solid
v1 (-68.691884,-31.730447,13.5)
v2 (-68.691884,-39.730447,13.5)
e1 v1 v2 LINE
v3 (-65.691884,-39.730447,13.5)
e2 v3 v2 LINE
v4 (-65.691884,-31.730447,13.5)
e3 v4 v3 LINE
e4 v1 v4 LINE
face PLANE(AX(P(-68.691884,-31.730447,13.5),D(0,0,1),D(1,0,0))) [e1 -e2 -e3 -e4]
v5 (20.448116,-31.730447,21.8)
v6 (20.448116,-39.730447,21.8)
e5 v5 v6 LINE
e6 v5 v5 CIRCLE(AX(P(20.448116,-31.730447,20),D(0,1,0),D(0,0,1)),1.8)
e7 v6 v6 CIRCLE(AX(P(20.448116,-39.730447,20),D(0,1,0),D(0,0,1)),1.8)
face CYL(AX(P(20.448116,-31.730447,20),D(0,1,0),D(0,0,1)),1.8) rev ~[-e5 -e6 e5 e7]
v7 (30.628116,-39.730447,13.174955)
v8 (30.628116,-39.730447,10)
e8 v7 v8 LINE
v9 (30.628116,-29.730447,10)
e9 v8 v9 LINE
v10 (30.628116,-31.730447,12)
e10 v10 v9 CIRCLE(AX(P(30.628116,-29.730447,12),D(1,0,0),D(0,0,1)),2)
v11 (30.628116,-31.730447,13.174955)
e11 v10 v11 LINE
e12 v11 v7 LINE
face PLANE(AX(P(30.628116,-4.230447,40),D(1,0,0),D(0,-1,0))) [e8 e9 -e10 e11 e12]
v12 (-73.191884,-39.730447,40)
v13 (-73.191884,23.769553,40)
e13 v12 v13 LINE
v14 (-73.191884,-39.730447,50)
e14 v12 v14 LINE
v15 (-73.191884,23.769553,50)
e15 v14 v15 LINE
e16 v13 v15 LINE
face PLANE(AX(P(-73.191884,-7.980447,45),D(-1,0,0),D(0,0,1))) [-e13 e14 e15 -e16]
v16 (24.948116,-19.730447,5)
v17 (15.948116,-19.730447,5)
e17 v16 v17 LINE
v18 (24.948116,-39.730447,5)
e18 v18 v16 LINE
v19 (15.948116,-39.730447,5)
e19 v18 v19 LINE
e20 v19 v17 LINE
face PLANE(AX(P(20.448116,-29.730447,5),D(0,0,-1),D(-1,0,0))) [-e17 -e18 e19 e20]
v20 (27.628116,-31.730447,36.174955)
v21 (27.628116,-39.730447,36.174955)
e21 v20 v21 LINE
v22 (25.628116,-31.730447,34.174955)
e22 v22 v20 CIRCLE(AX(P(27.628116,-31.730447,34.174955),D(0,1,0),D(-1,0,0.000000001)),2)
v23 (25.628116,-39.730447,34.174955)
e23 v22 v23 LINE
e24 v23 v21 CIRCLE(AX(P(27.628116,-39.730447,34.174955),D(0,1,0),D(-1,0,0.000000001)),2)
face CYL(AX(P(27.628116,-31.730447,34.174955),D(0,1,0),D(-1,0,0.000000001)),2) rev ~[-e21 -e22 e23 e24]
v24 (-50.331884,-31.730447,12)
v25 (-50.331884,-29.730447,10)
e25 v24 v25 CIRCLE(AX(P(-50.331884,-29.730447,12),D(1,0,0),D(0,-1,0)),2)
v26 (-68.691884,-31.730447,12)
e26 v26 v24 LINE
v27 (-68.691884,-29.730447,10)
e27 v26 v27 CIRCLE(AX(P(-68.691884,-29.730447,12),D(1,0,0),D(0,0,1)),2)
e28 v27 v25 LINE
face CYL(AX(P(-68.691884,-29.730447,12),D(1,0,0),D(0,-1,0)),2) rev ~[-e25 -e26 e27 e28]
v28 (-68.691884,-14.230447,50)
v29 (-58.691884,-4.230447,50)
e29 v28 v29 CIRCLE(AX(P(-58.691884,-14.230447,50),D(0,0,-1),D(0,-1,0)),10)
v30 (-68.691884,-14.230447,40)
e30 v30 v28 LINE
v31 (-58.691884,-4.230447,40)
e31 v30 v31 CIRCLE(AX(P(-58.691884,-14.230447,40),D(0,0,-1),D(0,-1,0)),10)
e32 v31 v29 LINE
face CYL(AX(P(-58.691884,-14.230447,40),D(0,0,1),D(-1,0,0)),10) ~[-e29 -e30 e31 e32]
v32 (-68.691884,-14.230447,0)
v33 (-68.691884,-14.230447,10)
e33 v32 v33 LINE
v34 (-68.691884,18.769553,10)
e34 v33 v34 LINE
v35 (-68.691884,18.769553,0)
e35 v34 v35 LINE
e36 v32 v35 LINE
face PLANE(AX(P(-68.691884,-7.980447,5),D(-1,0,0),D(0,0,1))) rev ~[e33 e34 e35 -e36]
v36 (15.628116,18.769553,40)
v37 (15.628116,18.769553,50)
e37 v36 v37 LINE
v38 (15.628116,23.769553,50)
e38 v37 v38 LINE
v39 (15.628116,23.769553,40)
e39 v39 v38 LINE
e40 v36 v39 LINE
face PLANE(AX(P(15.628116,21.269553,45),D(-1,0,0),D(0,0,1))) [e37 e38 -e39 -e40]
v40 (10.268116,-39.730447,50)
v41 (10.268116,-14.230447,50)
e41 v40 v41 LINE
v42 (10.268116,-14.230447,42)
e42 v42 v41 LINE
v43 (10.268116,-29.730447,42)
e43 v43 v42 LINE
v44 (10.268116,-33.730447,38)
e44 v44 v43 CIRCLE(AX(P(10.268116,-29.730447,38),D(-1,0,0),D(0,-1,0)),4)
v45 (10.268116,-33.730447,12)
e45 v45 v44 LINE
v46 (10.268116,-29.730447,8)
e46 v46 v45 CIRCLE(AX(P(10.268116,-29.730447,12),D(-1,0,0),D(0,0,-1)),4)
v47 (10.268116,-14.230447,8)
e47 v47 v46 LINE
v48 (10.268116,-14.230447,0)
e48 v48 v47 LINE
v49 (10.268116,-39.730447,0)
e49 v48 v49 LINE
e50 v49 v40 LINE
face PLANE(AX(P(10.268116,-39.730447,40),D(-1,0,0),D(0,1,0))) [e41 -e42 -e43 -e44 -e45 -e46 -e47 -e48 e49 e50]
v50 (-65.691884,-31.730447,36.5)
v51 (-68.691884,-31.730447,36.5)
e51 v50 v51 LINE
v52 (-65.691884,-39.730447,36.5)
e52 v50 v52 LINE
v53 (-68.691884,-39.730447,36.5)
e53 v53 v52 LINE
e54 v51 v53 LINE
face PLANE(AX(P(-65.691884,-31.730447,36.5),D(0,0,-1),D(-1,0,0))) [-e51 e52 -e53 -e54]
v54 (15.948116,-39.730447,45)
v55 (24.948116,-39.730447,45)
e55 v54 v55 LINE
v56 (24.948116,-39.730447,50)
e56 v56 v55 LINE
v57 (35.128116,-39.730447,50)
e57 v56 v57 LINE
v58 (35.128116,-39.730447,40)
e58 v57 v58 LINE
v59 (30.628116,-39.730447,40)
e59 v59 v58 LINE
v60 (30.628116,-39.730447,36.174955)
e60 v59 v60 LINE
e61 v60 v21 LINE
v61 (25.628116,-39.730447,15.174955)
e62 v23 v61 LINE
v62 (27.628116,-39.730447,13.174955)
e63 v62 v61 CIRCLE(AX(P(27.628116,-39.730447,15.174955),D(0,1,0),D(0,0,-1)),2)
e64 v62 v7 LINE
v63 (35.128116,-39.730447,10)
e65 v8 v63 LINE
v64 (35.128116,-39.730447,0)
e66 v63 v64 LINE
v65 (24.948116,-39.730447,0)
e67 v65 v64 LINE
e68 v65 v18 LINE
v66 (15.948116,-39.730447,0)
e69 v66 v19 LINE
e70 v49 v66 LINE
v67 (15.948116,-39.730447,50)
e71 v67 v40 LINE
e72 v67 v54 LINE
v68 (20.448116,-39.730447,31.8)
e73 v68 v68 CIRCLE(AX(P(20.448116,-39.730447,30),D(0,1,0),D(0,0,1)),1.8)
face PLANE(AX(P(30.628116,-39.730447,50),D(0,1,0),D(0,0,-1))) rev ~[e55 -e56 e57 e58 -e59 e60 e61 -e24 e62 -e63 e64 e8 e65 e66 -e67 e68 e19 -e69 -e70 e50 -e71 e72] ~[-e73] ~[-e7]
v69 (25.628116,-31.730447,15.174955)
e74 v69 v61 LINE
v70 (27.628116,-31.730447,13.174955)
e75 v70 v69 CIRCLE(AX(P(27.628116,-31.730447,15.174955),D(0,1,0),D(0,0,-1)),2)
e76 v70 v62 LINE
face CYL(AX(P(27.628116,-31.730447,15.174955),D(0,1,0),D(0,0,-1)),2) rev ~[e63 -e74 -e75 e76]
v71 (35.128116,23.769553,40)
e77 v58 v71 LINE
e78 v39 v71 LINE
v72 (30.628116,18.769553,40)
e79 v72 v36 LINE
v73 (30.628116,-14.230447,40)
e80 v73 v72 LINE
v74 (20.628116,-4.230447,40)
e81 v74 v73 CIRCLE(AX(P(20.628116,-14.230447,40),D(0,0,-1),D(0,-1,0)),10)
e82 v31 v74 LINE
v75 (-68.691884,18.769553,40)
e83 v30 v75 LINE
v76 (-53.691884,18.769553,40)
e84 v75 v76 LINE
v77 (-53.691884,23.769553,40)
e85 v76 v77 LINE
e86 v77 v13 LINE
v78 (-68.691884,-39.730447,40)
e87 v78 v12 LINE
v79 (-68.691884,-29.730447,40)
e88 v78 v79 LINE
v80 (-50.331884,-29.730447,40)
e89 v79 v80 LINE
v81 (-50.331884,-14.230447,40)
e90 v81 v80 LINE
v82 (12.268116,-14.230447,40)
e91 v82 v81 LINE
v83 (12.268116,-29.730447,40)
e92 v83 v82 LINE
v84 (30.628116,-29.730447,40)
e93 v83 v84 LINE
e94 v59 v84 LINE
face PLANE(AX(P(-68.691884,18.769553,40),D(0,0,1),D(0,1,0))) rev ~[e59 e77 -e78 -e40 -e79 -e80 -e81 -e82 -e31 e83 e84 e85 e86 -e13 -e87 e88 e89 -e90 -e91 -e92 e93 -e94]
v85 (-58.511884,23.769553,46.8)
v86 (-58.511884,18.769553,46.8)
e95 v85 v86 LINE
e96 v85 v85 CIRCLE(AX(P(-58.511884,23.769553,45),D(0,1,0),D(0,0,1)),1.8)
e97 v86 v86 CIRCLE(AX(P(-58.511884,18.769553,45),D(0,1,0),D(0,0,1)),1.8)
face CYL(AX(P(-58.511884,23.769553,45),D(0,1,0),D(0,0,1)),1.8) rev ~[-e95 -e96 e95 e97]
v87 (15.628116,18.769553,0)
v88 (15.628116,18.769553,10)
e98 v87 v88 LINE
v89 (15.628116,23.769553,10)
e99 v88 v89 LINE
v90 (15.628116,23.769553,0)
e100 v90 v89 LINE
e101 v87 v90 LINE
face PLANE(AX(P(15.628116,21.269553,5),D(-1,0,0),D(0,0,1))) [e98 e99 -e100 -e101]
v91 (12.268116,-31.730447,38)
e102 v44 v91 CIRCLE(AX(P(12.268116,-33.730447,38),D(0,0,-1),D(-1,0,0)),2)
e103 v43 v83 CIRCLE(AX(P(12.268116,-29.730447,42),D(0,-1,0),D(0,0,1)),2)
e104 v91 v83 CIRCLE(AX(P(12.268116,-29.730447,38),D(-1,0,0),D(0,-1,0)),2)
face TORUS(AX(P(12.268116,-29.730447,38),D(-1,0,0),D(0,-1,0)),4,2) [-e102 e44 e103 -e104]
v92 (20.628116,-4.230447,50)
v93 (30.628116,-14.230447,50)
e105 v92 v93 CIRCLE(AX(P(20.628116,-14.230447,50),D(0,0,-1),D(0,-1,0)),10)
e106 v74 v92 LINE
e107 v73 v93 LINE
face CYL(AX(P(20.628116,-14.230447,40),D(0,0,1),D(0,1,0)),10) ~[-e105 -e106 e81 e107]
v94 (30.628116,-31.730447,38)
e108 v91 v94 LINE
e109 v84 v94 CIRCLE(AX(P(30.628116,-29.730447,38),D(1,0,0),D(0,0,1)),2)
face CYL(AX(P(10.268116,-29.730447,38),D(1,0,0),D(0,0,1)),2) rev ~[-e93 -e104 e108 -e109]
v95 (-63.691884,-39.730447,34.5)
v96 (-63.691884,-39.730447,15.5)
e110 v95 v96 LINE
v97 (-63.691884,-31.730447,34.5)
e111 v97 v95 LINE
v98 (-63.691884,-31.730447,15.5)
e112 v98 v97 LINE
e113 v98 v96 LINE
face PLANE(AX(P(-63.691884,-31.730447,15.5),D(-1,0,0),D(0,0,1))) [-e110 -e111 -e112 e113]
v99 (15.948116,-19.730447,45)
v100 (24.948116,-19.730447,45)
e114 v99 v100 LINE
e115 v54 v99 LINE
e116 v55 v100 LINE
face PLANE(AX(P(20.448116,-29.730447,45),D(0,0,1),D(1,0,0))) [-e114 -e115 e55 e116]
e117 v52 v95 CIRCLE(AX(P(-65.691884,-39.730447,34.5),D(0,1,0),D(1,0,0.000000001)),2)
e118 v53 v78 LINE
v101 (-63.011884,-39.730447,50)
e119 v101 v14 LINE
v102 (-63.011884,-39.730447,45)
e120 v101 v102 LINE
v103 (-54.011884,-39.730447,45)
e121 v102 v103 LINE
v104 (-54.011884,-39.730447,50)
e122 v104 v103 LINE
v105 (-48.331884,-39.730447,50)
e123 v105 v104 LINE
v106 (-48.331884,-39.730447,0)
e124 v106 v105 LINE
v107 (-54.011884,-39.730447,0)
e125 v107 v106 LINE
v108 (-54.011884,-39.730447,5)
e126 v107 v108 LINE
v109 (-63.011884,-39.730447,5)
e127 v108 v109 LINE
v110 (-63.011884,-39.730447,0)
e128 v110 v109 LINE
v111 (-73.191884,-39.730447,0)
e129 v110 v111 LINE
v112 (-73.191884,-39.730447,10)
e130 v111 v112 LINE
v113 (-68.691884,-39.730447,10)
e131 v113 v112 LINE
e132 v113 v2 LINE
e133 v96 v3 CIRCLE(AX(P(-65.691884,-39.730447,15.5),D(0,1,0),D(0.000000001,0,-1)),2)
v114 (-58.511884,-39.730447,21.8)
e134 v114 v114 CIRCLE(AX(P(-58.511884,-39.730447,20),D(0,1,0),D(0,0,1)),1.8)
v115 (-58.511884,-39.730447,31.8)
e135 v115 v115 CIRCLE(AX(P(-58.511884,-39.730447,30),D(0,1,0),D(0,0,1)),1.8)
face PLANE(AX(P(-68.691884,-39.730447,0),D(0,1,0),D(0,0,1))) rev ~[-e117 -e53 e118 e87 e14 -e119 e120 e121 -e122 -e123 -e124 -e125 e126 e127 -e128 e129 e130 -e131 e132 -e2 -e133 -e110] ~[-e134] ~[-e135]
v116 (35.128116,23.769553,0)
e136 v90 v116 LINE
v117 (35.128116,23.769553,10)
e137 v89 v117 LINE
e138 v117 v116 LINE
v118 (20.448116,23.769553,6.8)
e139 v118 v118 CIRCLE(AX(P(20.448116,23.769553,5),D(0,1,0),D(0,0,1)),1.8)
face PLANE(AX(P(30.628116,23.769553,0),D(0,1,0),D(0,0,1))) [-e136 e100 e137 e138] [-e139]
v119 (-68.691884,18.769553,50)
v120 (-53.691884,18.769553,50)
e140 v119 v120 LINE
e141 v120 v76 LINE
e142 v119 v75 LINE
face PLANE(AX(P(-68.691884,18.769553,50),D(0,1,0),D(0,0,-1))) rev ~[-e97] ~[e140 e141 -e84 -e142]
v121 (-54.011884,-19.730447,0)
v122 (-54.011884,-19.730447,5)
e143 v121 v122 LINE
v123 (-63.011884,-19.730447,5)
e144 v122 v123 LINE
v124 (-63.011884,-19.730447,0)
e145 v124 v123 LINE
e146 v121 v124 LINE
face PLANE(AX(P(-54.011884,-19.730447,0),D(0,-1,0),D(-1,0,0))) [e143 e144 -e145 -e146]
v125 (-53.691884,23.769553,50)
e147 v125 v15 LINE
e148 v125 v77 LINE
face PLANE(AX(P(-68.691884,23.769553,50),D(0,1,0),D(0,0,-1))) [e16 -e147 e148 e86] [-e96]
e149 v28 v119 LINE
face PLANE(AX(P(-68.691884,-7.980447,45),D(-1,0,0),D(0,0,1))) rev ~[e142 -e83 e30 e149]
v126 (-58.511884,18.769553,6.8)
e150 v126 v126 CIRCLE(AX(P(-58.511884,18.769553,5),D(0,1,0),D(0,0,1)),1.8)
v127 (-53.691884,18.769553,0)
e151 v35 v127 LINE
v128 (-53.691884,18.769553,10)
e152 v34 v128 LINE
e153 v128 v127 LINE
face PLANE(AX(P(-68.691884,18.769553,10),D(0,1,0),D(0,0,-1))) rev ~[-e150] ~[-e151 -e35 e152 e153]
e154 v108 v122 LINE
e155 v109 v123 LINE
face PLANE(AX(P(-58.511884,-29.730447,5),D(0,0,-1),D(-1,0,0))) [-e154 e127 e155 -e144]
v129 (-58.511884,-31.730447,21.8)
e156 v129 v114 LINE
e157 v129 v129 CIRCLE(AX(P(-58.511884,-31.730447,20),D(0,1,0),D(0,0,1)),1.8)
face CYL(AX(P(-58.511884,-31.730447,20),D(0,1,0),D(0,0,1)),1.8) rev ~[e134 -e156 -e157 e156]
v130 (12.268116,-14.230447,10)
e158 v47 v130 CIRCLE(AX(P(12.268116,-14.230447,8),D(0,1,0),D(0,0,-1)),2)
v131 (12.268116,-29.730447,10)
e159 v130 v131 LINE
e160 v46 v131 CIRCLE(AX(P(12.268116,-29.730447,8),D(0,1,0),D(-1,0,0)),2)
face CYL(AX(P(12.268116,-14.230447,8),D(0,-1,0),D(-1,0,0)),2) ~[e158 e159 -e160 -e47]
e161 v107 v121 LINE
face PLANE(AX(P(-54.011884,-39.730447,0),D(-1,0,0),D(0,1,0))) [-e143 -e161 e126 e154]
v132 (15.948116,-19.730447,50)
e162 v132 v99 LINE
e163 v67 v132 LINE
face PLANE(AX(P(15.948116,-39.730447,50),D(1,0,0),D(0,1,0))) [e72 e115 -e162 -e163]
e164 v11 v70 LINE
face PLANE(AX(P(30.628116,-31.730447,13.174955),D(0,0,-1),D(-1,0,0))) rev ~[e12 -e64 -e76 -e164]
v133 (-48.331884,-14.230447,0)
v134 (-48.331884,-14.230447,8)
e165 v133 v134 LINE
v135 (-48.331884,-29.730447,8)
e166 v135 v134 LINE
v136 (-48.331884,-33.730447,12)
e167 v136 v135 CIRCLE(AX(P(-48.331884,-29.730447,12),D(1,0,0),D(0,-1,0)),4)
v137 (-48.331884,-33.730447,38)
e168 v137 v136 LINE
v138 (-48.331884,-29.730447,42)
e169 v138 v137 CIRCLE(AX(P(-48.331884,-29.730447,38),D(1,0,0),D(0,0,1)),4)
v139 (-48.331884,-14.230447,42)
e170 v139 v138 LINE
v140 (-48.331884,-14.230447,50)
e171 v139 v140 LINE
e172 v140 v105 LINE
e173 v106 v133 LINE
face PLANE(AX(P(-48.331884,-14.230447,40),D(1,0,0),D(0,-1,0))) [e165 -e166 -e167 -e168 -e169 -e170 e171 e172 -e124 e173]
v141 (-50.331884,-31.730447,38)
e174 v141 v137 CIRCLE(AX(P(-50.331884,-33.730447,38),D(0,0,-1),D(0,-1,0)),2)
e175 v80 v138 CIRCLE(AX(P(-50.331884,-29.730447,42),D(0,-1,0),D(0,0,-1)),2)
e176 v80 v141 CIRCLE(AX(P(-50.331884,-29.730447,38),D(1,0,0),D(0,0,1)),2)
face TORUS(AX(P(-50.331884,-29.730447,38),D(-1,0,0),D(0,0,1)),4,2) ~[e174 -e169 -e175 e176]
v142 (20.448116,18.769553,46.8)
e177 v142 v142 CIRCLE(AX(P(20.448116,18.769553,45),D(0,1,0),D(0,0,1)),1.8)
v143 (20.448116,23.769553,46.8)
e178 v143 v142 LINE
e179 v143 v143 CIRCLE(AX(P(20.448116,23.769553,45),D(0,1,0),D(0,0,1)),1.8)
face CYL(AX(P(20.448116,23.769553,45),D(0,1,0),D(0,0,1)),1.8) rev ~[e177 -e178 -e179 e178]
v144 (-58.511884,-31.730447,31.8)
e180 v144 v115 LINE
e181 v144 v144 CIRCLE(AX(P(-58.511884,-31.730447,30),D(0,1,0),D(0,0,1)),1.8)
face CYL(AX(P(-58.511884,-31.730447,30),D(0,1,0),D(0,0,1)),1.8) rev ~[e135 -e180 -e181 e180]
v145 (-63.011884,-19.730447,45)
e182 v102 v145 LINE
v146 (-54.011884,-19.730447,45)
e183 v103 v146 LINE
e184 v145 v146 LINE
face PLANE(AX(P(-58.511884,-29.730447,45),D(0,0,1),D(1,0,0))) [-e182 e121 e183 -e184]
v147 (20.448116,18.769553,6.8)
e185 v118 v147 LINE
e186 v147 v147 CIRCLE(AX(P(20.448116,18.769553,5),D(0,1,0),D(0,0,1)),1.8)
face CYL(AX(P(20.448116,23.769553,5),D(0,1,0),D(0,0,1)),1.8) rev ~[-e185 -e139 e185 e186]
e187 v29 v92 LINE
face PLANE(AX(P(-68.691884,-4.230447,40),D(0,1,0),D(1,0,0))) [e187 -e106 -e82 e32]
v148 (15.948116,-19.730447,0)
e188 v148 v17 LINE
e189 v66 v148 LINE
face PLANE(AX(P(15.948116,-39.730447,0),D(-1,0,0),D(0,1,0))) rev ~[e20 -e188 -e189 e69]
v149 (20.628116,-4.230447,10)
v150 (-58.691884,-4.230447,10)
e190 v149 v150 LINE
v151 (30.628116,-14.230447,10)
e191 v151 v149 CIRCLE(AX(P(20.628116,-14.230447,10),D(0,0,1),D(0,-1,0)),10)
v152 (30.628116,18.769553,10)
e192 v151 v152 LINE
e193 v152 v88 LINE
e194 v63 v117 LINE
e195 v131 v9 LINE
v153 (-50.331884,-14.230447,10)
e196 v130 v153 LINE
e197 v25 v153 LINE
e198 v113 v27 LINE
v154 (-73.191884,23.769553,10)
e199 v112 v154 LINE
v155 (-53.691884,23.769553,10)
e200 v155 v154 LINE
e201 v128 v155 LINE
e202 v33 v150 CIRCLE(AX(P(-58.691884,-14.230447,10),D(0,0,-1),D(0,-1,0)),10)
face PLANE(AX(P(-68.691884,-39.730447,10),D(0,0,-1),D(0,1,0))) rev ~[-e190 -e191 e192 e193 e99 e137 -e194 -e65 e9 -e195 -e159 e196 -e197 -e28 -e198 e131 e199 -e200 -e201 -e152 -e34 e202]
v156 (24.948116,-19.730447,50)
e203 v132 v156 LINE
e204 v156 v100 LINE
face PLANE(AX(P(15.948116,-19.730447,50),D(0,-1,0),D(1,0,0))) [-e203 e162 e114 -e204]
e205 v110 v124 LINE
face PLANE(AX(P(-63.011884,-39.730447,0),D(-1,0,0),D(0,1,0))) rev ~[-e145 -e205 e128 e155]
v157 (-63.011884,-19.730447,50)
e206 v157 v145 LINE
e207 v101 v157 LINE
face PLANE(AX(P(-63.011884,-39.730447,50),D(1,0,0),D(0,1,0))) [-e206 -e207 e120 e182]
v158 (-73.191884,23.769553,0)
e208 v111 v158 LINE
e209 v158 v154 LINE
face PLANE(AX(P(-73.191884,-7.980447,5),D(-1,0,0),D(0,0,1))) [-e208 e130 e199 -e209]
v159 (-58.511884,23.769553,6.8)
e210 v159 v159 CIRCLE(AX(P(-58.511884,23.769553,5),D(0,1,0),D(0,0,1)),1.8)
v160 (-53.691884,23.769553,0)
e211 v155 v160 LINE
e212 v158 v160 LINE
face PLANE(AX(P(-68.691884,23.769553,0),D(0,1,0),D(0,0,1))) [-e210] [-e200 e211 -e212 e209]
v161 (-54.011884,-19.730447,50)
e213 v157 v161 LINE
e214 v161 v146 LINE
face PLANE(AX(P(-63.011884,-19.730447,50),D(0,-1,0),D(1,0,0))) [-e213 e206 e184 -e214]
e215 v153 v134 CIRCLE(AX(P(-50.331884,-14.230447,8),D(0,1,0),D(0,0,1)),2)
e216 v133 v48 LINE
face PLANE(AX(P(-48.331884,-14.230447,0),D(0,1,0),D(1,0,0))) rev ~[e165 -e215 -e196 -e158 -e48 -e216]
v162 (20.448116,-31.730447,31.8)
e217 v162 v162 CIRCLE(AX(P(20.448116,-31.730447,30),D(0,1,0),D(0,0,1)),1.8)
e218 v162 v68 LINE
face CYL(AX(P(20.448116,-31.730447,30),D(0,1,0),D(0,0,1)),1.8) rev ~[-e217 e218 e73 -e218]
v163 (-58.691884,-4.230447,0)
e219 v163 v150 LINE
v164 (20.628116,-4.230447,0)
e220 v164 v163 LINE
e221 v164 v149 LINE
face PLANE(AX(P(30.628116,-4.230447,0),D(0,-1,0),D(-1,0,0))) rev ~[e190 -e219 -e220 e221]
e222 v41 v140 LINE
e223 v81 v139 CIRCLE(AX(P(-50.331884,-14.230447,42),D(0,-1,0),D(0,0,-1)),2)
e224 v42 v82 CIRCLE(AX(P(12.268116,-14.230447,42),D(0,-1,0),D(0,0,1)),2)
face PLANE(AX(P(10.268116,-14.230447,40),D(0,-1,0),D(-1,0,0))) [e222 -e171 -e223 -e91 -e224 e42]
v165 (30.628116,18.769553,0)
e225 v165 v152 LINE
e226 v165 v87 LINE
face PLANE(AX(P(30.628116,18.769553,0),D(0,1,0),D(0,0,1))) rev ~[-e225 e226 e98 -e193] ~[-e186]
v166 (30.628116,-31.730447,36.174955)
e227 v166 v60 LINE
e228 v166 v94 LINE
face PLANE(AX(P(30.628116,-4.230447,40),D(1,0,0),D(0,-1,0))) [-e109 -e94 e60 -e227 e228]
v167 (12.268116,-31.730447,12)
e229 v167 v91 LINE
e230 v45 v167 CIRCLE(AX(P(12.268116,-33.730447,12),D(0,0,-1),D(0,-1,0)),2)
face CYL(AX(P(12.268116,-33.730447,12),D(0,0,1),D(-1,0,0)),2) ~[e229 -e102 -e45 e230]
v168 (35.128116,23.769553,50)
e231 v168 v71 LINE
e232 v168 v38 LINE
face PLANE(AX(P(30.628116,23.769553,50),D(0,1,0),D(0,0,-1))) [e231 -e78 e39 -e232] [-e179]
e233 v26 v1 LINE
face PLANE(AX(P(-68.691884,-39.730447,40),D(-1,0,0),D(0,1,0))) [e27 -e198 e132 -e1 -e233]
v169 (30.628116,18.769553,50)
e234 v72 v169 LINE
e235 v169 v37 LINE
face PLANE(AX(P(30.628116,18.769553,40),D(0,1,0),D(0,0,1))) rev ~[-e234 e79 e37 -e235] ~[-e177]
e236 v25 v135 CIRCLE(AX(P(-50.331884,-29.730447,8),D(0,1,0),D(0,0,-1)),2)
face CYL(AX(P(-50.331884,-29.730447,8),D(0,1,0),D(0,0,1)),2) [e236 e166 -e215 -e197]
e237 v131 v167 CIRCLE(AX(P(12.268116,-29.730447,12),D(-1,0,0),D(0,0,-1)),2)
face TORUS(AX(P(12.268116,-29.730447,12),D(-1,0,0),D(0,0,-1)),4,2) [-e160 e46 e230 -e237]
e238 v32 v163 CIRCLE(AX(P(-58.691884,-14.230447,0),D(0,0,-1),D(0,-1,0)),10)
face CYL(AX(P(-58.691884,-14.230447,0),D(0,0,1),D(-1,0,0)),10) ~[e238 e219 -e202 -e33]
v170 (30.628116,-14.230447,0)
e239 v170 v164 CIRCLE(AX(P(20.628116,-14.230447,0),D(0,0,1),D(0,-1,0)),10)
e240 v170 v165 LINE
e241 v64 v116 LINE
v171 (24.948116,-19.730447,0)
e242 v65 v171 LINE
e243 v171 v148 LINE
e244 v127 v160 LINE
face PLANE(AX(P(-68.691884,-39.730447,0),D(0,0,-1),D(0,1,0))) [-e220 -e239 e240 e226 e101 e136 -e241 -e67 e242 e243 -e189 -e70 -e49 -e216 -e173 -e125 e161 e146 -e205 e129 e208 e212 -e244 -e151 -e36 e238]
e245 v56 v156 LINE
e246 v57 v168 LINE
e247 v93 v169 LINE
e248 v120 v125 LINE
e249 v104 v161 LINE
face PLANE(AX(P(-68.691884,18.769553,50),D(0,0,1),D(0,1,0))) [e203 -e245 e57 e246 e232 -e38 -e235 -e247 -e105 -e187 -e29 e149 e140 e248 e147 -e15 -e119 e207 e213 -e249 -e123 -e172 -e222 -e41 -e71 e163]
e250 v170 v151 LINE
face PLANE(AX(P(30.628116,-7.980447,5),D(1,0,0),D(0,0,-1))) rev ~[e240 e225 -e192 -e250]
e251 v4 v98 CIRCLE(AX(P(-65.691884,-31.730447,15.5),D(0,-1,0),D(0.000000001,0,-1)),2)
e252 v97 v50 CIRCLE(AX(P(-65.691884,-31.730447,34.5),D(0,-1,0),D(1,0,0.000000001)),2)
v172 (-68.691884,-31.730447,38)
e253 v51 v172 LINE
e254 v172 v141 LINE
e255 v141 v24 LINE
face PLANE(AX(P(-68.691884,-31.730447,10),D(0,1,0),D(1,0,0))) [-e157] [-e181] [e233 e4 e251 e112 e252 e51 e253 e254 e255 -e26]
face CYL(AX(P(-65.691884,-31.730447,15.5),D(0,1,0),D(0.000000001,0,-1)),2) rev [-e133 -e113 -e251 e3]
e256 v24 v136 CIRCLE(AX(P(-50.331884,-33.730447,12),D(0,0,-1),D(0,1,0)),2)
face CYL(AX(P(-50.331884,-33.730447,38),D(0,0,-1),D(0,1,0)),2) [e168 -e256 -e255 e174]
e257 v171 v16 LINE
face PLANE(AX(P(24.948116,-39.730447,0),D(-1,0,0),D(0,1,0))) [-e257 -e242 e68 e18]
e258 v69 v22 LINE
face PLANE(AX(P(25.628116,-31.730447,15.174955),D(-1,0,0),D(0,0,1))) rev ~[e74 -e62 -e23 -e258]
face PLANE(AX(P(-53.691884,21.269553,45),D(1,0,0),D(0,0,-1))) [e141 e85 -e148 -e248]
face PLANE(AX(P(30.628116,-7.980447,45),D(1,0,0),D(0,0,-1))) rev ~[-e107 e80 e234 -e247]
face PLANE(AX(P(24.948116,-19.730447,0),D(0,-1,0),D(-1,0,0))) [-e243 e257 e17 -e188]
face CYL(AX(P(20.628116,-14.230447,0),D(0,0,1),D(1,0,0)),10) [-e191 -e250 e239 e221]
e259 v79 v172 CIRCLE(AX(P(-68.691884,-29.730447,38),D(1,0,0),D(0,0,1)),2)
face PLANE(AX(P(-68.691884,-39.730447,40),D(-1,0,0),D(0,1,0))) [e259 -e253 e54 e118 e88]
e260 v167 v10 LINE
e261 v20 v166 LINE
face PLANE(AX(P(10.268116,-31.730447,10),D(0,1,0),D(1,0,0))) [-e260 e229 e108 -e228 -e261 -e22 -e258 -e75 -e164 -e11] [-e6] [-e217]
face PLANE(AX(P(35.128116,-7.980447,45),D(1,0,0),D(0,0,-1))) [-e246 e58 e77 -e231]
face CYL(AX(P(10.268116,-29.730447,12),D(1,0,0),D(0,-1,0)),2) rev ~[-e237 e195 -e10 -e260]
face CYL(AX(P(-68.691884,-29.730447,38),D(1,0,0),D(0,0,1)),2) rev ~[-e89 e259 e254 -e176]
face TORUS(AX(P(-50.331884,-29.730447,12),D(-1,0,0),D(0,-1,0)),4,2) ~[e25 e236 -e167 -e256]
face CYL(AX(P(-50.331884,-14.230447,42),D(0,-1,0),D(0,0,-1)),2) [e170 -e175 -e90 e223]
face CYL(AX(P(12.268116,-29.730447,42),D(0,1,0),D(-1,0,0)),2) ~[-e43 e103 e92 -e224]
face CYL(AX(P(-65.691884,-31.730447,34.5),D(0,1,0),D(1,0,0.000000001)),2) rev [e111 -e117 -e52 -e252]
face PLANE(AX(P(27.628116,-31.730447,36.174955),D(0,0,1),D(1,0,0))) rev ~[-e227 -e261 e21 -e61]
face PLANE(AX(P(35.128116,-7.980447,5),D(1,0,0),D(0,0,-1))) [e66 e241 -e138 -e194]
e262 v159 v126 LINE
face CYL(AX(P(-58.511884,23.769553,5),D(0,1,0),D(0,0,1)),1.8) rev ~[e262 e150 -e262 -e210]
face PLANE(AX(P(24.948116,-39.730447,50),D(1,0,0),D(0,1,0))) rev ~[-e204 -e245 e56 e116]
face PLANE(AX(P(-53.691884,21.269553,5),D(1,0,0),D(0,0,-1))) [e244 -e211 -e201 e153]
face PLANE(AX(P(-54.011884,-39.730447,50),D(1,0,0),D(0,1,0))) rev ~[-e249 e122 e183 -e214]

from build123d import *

# Parameters (mm, degrees)
BOSS_EXTRUDE1_DEPTH = 10
SKETCH2_W           = 20.36
SKETCH2_H           = 8
BOSS_EXTRUDE2_DEPTH = 30
BOSS_EXTRUDE3_DEPTH = 10
SKETCH4_R           = 1.8
CUT_EXTRUDE1_DEPTH  = 90.301874976
CUT_EXTRUDE2_DEPTH  = 90.301874976
FILLET2_R           = 10
FILLET3_R           = 2
FILLET4_R           = 2
SKETCH6_W           = 9
SKETCH6_H           = 20
CUT_EXTRUDE3_DEPTH  = 5
SKETCH7_W           = 9
SKETCH7_H           = 20
CUT_EXTRUDE4_DEPTH  = 5
SKETCH8_W           = 10
SKETCH8_H           = 63.5
BOSS_EXTRUDE4_DEPTH = 4.5
SKETCH9_W           = 10
SKETCH9_H           = 5
BOSS_EXTRUDE5_DEPTH = 15
SKETCH10_W          = 10
SKETCH10_H          = 63.5
BOSS_EXTRUDE6_DEPTH = 4.5
SKETCH11_W          = 10
SKETCH11_H          = 5
BOSS_EXTRUDE7_DEPTH = 15
SKETCH12_R          = 1.8
CUT_EXTRUDE5_DEPTH  = 5


with BuildPart() as part:
    # Sketch1 → Boss-Extrude1 (new body)
    with BuildSketch(Plane.XY):
        Polygon((-68.691883613, -39.730446699), (-48.331883613, -39.730446699), (-48.331883613, -14.230446699), (10.268116387, -14.230446699), (10.268116387, -39.730446699), (30.628116387, -39.730446699), (30.628116387, -4.230446699), (-68.691883613, -4.230446699), align=None)
    extrude(amount=BOSS_EXTRUDE1_DEPTH)

    # Sketch2 → Boss-Extrude2 (add)
    with BuildSketch(Plane.XY.offset(10)):
        with Locations((-58.511883613, -35.730446699)):
            Rectangle(SKETCH2_W, SKETCH2_H)
        with Locations((20.448116387, -35.730446699)):
            Rectangle(SKETCH2_W, SKETCH2_H)
    extrude(amount=BOSS_EXTRUDE2_DEPTH)

    # Sketch3 → Boss-Extrude3 (add)
    with BuildSketch(Plane.XY.offset(40)):
        Polygon((-68.691883613, -39.730446699), (-68.691883613, -4.230446699), (30.628116387, -4.230446699), (30.628116387, -39.730446699), (10.268116387, -39.730446699), (10.268116387, -14.230446699), (-48.331883613, -14.230446699), (-48.331883613, -39.730446699), align=None)
    extrude(amount=BOSS_EXTRUDE3_DEPTH)

    # Sketch4 → Cut-Extrude1 (cut, through all)
    with BuildSketch(Plane(origin=(0, -31.730446699, 0), x_dir=(1, 0, 0), z_dir=(0, 1, 0))):
        with Locations(Location((-58.511883613, -20, 0), (0, 0, 270))):
            Circle(SKETCH4_R)
        with Locations(Location((-58.511883613, -30, 0), (0, 0, 270))):
            Circle(SKETCH4_R)
        with Locations(Location((20.448116387, -30, 0), (0, 0, 270))):
            Circle(SKETCH4_R)
        with Locations(Location((20.448116387, -20, 0), (0, 0, 270))):
            Circle(SKETCH4_R)
    extrude(amount=-CUT_EXTRUDE1_DEPTH, mode=Mode.SUBTRACT)

    # Sketch5 → Cut-Extrude2 (cut, through all)
    with BuildSketch(Plane(origin=(0, -31.730446699, 0), x_dir=(1, 0, 0), z_dir=(0, 1, 0))):
        with BuildLine():
            Line((-68.691883613, -13.5), (-65.691883613, -13.5))
            ThreePointArc((-65.691883613, -13.5), (-64.277670051, -14.085786438), (-63.691883613, -15.5))
            Line((-63.691883613, -15.5), (-63.691883613, -34.5))
            ThreePointArc((-63.691883613, -34.5), (-64.277670051, -35.914213562), (-65.691883613, -36.5))
            Line((-65.691883613, -36.5), (-68.691883613, -36.5))
            Line((-68.691883613, -36.5), (-68.691883613, -13.5))
        make_face()
        with BuildLine():
            Line((30.628116387, -13.174954518), (27.628116387, -13.174954518))
            ThreePointArc((27.628116387, -13.174954518), (26.213902825, -13.760740955), (25.628116387, -15.174954518))
            Line((25.628116387, -15.174954518), (25.628116387, -34.174954518))
            ThreePointArc((25.628116387, -34.174954518), (26.213902825, -35.58916808), (27.628116387, -36.174954518))
            Line((27.628116387, -36.174954518), (30.628116387, -36.174954518))
            Line((30.628116387, -36.174954518), (30.628116387, -13.174954518))
        make_face()
    extrude(amount=-CUT_EXTRUDE2_DEPTH, mode=Mode.SUBTRACT)

    # Fillet2
    fillet2_edges = [part.edges().sort_by_distance(p)[0] for p in [
        (30.628116387, -4.230446699, 5),
        (30.628116387, -4.230446699, 45),
        (-68.691883613, -4.230446699, 5),
        (-68.691883613, -4.230446699, 45),
    ]]
    fillet(fillet2_edges, radius=FILLET2_R)

    # Fillet3
    fillet3_edges = [part.edges().sort_by_distance(p)[0] for p in [
        (20.448116387, -31.730446699, 40),
        (-58.511883613, -31.730446699, 40),
        (20.448116387, -31.730446699, 10),
        (-58.511883613, -31.730446699, 10),
    ]]
    fillet(fillet3_edges, radius=FILLET3_R)

    # Fillet4
    fillet4_edges = [part.edges().sort_by_distance(p)[0] for p in [
        (10.268116387, -21.980446699, 10),
        (-48.331883613, -21.980446699, 40),
        (10.268116387, -31.730446699, 25),
        (-48.331883613, -31.730446699, 25),
        (-48.331883613, -21.980446699, 10),
        (10.268116387, -31.144660261, 39.414213562),
        (-48.331883613, -31.144660261, 39.414213562),
        (10.268116387, -31.144660261, 10.585786438),
        (-48.331883613, -31.144660261, 10.585786438),
        (10.268116387, -21.980446699, 40),
    ]]
    fillet(fillet4_edges, radius=FILLET4_R)

    # Sketch6 → Cut-Extrude3 (cut)
    with BuildSketch(Plane.XY.offset(50)):
        with Locations((-58.511883613, -29.730446699)):
            Rectangle(SKETCH6_W, SKETCH6_H)
        with Locations((20.448116387, -29.730446699)):
            Rectangle(SKETCH6_W, SKETCH6_H)
    extrude(amount=-CUT_EXTRUDE3_DEPTH, mode=Mode.SUBTRACT)

    # Sketch7 → Cut-Extrude4 (cut)
    with BuildSketch(Plane(origin=(0, 0, 0), x_dir=(-1, 0, 0), z_dir=(0, 0, -1))):
        with Locations((-20.448116387, -29.730446699)):
            Rectangle(SKETCH7_W, SKETCH7_H)
        with Locations((58.511883613, -29.730446699)):
            Rectangle(SKETCH7_W, SKETCH7_H)
    extrude(amount=-CUT_EXTRUDE4_DEPTH, mode=Mode.SUBTRACT)

    # Sketch8 → Boss-Extrude4 (add)
    with BuildSketch(Plane(origin=(30.628116387, 0, 0), x_dir=(0, 0, -1), z_dir=(1, 0, 0))):
        with Locations((-45, -7.980446699)):
            Rectangle(SKETCH8_W, SKETCH8_H)
        with Locations((-5, -7.980446699)):
            Rectangle(SKETCH8_W, SKETCH8_H)
    extrude(amount=BOSS_EXTRUDE4_DEPTH)

    # Sketch9 → Boss-Extrude5 (add)
    with BuildSketch(Plane.ZY.offset(-30.628116387)):
        with Locations((5, 21.269553301)):
            Rectangle(SKETCH9_W, SKETCH9_H)
        with Locations((45, 21.269553301)):
            Rectangle(SKETCH9_W, SKETCH9_H)
    extrude(amount=BOSS_EXTRUDE5_DEPTH)

    # Sketch10 → Boss-Extrude6 (add)
    with BuildSketch(Plane.ZY.offset(68.691883613)):
        with Locations((5, -7.980446699)):
            Rectangle(SKETCH10_W, SKETCH10_H)
        with Locations((45, -7.980446699)):
            Rectangle(SKETCH10_W, SKETCH10_H)
    extrude(amount=BOSS_EXTRUDE6_DEPTH)

    # Sketch11 → Boss-Extrude7 (add)
    with BuildSketch(Plane(origin=(-68.691883613, 0, 0), x_dir=(0, 0, -1), z_dir=(1, 0, 0))):
        with Locations((-45, 21.269553301)):
            Rectangle(SKETCH11_W, SKETCH11_H)
        with Locations((-5, 21.269553301)):
            Rectangle(SKETCH11_W, SKETCH11_H)
    extrude(amount=BOSS_EXTRUDE7_DEPTH)

    # Sketch12 → Cut-Extrude5 (cut)
    with BuildSketch(Plane(origin=(0, 23.769553301, 0), x_dir=(1, 0, 0), z_dir=(0, 1, 0))):
        with Locations(Location((20.448116387, -45, 0), (0, 0, 270))):
            Circle(SKETCH12_R)
        with Locations(Location((20.448116387, -5, 0), (0, 0, 270))):
            Circle(SKETCH12_R)
        with Locations(Location((-58.511883613, -45, 0), (0, 0, 270))):
            Circle(SKETCH12_R)
        with Locations(Location((-58.511883613, -5, 0), (0, 0, 270))):
            Circle(SKETCH12_R)
    extrude(amount=-CUT_EXTRUDE5_DEPTH, mode=Mode.SUBTRACT)


solid = part.part
